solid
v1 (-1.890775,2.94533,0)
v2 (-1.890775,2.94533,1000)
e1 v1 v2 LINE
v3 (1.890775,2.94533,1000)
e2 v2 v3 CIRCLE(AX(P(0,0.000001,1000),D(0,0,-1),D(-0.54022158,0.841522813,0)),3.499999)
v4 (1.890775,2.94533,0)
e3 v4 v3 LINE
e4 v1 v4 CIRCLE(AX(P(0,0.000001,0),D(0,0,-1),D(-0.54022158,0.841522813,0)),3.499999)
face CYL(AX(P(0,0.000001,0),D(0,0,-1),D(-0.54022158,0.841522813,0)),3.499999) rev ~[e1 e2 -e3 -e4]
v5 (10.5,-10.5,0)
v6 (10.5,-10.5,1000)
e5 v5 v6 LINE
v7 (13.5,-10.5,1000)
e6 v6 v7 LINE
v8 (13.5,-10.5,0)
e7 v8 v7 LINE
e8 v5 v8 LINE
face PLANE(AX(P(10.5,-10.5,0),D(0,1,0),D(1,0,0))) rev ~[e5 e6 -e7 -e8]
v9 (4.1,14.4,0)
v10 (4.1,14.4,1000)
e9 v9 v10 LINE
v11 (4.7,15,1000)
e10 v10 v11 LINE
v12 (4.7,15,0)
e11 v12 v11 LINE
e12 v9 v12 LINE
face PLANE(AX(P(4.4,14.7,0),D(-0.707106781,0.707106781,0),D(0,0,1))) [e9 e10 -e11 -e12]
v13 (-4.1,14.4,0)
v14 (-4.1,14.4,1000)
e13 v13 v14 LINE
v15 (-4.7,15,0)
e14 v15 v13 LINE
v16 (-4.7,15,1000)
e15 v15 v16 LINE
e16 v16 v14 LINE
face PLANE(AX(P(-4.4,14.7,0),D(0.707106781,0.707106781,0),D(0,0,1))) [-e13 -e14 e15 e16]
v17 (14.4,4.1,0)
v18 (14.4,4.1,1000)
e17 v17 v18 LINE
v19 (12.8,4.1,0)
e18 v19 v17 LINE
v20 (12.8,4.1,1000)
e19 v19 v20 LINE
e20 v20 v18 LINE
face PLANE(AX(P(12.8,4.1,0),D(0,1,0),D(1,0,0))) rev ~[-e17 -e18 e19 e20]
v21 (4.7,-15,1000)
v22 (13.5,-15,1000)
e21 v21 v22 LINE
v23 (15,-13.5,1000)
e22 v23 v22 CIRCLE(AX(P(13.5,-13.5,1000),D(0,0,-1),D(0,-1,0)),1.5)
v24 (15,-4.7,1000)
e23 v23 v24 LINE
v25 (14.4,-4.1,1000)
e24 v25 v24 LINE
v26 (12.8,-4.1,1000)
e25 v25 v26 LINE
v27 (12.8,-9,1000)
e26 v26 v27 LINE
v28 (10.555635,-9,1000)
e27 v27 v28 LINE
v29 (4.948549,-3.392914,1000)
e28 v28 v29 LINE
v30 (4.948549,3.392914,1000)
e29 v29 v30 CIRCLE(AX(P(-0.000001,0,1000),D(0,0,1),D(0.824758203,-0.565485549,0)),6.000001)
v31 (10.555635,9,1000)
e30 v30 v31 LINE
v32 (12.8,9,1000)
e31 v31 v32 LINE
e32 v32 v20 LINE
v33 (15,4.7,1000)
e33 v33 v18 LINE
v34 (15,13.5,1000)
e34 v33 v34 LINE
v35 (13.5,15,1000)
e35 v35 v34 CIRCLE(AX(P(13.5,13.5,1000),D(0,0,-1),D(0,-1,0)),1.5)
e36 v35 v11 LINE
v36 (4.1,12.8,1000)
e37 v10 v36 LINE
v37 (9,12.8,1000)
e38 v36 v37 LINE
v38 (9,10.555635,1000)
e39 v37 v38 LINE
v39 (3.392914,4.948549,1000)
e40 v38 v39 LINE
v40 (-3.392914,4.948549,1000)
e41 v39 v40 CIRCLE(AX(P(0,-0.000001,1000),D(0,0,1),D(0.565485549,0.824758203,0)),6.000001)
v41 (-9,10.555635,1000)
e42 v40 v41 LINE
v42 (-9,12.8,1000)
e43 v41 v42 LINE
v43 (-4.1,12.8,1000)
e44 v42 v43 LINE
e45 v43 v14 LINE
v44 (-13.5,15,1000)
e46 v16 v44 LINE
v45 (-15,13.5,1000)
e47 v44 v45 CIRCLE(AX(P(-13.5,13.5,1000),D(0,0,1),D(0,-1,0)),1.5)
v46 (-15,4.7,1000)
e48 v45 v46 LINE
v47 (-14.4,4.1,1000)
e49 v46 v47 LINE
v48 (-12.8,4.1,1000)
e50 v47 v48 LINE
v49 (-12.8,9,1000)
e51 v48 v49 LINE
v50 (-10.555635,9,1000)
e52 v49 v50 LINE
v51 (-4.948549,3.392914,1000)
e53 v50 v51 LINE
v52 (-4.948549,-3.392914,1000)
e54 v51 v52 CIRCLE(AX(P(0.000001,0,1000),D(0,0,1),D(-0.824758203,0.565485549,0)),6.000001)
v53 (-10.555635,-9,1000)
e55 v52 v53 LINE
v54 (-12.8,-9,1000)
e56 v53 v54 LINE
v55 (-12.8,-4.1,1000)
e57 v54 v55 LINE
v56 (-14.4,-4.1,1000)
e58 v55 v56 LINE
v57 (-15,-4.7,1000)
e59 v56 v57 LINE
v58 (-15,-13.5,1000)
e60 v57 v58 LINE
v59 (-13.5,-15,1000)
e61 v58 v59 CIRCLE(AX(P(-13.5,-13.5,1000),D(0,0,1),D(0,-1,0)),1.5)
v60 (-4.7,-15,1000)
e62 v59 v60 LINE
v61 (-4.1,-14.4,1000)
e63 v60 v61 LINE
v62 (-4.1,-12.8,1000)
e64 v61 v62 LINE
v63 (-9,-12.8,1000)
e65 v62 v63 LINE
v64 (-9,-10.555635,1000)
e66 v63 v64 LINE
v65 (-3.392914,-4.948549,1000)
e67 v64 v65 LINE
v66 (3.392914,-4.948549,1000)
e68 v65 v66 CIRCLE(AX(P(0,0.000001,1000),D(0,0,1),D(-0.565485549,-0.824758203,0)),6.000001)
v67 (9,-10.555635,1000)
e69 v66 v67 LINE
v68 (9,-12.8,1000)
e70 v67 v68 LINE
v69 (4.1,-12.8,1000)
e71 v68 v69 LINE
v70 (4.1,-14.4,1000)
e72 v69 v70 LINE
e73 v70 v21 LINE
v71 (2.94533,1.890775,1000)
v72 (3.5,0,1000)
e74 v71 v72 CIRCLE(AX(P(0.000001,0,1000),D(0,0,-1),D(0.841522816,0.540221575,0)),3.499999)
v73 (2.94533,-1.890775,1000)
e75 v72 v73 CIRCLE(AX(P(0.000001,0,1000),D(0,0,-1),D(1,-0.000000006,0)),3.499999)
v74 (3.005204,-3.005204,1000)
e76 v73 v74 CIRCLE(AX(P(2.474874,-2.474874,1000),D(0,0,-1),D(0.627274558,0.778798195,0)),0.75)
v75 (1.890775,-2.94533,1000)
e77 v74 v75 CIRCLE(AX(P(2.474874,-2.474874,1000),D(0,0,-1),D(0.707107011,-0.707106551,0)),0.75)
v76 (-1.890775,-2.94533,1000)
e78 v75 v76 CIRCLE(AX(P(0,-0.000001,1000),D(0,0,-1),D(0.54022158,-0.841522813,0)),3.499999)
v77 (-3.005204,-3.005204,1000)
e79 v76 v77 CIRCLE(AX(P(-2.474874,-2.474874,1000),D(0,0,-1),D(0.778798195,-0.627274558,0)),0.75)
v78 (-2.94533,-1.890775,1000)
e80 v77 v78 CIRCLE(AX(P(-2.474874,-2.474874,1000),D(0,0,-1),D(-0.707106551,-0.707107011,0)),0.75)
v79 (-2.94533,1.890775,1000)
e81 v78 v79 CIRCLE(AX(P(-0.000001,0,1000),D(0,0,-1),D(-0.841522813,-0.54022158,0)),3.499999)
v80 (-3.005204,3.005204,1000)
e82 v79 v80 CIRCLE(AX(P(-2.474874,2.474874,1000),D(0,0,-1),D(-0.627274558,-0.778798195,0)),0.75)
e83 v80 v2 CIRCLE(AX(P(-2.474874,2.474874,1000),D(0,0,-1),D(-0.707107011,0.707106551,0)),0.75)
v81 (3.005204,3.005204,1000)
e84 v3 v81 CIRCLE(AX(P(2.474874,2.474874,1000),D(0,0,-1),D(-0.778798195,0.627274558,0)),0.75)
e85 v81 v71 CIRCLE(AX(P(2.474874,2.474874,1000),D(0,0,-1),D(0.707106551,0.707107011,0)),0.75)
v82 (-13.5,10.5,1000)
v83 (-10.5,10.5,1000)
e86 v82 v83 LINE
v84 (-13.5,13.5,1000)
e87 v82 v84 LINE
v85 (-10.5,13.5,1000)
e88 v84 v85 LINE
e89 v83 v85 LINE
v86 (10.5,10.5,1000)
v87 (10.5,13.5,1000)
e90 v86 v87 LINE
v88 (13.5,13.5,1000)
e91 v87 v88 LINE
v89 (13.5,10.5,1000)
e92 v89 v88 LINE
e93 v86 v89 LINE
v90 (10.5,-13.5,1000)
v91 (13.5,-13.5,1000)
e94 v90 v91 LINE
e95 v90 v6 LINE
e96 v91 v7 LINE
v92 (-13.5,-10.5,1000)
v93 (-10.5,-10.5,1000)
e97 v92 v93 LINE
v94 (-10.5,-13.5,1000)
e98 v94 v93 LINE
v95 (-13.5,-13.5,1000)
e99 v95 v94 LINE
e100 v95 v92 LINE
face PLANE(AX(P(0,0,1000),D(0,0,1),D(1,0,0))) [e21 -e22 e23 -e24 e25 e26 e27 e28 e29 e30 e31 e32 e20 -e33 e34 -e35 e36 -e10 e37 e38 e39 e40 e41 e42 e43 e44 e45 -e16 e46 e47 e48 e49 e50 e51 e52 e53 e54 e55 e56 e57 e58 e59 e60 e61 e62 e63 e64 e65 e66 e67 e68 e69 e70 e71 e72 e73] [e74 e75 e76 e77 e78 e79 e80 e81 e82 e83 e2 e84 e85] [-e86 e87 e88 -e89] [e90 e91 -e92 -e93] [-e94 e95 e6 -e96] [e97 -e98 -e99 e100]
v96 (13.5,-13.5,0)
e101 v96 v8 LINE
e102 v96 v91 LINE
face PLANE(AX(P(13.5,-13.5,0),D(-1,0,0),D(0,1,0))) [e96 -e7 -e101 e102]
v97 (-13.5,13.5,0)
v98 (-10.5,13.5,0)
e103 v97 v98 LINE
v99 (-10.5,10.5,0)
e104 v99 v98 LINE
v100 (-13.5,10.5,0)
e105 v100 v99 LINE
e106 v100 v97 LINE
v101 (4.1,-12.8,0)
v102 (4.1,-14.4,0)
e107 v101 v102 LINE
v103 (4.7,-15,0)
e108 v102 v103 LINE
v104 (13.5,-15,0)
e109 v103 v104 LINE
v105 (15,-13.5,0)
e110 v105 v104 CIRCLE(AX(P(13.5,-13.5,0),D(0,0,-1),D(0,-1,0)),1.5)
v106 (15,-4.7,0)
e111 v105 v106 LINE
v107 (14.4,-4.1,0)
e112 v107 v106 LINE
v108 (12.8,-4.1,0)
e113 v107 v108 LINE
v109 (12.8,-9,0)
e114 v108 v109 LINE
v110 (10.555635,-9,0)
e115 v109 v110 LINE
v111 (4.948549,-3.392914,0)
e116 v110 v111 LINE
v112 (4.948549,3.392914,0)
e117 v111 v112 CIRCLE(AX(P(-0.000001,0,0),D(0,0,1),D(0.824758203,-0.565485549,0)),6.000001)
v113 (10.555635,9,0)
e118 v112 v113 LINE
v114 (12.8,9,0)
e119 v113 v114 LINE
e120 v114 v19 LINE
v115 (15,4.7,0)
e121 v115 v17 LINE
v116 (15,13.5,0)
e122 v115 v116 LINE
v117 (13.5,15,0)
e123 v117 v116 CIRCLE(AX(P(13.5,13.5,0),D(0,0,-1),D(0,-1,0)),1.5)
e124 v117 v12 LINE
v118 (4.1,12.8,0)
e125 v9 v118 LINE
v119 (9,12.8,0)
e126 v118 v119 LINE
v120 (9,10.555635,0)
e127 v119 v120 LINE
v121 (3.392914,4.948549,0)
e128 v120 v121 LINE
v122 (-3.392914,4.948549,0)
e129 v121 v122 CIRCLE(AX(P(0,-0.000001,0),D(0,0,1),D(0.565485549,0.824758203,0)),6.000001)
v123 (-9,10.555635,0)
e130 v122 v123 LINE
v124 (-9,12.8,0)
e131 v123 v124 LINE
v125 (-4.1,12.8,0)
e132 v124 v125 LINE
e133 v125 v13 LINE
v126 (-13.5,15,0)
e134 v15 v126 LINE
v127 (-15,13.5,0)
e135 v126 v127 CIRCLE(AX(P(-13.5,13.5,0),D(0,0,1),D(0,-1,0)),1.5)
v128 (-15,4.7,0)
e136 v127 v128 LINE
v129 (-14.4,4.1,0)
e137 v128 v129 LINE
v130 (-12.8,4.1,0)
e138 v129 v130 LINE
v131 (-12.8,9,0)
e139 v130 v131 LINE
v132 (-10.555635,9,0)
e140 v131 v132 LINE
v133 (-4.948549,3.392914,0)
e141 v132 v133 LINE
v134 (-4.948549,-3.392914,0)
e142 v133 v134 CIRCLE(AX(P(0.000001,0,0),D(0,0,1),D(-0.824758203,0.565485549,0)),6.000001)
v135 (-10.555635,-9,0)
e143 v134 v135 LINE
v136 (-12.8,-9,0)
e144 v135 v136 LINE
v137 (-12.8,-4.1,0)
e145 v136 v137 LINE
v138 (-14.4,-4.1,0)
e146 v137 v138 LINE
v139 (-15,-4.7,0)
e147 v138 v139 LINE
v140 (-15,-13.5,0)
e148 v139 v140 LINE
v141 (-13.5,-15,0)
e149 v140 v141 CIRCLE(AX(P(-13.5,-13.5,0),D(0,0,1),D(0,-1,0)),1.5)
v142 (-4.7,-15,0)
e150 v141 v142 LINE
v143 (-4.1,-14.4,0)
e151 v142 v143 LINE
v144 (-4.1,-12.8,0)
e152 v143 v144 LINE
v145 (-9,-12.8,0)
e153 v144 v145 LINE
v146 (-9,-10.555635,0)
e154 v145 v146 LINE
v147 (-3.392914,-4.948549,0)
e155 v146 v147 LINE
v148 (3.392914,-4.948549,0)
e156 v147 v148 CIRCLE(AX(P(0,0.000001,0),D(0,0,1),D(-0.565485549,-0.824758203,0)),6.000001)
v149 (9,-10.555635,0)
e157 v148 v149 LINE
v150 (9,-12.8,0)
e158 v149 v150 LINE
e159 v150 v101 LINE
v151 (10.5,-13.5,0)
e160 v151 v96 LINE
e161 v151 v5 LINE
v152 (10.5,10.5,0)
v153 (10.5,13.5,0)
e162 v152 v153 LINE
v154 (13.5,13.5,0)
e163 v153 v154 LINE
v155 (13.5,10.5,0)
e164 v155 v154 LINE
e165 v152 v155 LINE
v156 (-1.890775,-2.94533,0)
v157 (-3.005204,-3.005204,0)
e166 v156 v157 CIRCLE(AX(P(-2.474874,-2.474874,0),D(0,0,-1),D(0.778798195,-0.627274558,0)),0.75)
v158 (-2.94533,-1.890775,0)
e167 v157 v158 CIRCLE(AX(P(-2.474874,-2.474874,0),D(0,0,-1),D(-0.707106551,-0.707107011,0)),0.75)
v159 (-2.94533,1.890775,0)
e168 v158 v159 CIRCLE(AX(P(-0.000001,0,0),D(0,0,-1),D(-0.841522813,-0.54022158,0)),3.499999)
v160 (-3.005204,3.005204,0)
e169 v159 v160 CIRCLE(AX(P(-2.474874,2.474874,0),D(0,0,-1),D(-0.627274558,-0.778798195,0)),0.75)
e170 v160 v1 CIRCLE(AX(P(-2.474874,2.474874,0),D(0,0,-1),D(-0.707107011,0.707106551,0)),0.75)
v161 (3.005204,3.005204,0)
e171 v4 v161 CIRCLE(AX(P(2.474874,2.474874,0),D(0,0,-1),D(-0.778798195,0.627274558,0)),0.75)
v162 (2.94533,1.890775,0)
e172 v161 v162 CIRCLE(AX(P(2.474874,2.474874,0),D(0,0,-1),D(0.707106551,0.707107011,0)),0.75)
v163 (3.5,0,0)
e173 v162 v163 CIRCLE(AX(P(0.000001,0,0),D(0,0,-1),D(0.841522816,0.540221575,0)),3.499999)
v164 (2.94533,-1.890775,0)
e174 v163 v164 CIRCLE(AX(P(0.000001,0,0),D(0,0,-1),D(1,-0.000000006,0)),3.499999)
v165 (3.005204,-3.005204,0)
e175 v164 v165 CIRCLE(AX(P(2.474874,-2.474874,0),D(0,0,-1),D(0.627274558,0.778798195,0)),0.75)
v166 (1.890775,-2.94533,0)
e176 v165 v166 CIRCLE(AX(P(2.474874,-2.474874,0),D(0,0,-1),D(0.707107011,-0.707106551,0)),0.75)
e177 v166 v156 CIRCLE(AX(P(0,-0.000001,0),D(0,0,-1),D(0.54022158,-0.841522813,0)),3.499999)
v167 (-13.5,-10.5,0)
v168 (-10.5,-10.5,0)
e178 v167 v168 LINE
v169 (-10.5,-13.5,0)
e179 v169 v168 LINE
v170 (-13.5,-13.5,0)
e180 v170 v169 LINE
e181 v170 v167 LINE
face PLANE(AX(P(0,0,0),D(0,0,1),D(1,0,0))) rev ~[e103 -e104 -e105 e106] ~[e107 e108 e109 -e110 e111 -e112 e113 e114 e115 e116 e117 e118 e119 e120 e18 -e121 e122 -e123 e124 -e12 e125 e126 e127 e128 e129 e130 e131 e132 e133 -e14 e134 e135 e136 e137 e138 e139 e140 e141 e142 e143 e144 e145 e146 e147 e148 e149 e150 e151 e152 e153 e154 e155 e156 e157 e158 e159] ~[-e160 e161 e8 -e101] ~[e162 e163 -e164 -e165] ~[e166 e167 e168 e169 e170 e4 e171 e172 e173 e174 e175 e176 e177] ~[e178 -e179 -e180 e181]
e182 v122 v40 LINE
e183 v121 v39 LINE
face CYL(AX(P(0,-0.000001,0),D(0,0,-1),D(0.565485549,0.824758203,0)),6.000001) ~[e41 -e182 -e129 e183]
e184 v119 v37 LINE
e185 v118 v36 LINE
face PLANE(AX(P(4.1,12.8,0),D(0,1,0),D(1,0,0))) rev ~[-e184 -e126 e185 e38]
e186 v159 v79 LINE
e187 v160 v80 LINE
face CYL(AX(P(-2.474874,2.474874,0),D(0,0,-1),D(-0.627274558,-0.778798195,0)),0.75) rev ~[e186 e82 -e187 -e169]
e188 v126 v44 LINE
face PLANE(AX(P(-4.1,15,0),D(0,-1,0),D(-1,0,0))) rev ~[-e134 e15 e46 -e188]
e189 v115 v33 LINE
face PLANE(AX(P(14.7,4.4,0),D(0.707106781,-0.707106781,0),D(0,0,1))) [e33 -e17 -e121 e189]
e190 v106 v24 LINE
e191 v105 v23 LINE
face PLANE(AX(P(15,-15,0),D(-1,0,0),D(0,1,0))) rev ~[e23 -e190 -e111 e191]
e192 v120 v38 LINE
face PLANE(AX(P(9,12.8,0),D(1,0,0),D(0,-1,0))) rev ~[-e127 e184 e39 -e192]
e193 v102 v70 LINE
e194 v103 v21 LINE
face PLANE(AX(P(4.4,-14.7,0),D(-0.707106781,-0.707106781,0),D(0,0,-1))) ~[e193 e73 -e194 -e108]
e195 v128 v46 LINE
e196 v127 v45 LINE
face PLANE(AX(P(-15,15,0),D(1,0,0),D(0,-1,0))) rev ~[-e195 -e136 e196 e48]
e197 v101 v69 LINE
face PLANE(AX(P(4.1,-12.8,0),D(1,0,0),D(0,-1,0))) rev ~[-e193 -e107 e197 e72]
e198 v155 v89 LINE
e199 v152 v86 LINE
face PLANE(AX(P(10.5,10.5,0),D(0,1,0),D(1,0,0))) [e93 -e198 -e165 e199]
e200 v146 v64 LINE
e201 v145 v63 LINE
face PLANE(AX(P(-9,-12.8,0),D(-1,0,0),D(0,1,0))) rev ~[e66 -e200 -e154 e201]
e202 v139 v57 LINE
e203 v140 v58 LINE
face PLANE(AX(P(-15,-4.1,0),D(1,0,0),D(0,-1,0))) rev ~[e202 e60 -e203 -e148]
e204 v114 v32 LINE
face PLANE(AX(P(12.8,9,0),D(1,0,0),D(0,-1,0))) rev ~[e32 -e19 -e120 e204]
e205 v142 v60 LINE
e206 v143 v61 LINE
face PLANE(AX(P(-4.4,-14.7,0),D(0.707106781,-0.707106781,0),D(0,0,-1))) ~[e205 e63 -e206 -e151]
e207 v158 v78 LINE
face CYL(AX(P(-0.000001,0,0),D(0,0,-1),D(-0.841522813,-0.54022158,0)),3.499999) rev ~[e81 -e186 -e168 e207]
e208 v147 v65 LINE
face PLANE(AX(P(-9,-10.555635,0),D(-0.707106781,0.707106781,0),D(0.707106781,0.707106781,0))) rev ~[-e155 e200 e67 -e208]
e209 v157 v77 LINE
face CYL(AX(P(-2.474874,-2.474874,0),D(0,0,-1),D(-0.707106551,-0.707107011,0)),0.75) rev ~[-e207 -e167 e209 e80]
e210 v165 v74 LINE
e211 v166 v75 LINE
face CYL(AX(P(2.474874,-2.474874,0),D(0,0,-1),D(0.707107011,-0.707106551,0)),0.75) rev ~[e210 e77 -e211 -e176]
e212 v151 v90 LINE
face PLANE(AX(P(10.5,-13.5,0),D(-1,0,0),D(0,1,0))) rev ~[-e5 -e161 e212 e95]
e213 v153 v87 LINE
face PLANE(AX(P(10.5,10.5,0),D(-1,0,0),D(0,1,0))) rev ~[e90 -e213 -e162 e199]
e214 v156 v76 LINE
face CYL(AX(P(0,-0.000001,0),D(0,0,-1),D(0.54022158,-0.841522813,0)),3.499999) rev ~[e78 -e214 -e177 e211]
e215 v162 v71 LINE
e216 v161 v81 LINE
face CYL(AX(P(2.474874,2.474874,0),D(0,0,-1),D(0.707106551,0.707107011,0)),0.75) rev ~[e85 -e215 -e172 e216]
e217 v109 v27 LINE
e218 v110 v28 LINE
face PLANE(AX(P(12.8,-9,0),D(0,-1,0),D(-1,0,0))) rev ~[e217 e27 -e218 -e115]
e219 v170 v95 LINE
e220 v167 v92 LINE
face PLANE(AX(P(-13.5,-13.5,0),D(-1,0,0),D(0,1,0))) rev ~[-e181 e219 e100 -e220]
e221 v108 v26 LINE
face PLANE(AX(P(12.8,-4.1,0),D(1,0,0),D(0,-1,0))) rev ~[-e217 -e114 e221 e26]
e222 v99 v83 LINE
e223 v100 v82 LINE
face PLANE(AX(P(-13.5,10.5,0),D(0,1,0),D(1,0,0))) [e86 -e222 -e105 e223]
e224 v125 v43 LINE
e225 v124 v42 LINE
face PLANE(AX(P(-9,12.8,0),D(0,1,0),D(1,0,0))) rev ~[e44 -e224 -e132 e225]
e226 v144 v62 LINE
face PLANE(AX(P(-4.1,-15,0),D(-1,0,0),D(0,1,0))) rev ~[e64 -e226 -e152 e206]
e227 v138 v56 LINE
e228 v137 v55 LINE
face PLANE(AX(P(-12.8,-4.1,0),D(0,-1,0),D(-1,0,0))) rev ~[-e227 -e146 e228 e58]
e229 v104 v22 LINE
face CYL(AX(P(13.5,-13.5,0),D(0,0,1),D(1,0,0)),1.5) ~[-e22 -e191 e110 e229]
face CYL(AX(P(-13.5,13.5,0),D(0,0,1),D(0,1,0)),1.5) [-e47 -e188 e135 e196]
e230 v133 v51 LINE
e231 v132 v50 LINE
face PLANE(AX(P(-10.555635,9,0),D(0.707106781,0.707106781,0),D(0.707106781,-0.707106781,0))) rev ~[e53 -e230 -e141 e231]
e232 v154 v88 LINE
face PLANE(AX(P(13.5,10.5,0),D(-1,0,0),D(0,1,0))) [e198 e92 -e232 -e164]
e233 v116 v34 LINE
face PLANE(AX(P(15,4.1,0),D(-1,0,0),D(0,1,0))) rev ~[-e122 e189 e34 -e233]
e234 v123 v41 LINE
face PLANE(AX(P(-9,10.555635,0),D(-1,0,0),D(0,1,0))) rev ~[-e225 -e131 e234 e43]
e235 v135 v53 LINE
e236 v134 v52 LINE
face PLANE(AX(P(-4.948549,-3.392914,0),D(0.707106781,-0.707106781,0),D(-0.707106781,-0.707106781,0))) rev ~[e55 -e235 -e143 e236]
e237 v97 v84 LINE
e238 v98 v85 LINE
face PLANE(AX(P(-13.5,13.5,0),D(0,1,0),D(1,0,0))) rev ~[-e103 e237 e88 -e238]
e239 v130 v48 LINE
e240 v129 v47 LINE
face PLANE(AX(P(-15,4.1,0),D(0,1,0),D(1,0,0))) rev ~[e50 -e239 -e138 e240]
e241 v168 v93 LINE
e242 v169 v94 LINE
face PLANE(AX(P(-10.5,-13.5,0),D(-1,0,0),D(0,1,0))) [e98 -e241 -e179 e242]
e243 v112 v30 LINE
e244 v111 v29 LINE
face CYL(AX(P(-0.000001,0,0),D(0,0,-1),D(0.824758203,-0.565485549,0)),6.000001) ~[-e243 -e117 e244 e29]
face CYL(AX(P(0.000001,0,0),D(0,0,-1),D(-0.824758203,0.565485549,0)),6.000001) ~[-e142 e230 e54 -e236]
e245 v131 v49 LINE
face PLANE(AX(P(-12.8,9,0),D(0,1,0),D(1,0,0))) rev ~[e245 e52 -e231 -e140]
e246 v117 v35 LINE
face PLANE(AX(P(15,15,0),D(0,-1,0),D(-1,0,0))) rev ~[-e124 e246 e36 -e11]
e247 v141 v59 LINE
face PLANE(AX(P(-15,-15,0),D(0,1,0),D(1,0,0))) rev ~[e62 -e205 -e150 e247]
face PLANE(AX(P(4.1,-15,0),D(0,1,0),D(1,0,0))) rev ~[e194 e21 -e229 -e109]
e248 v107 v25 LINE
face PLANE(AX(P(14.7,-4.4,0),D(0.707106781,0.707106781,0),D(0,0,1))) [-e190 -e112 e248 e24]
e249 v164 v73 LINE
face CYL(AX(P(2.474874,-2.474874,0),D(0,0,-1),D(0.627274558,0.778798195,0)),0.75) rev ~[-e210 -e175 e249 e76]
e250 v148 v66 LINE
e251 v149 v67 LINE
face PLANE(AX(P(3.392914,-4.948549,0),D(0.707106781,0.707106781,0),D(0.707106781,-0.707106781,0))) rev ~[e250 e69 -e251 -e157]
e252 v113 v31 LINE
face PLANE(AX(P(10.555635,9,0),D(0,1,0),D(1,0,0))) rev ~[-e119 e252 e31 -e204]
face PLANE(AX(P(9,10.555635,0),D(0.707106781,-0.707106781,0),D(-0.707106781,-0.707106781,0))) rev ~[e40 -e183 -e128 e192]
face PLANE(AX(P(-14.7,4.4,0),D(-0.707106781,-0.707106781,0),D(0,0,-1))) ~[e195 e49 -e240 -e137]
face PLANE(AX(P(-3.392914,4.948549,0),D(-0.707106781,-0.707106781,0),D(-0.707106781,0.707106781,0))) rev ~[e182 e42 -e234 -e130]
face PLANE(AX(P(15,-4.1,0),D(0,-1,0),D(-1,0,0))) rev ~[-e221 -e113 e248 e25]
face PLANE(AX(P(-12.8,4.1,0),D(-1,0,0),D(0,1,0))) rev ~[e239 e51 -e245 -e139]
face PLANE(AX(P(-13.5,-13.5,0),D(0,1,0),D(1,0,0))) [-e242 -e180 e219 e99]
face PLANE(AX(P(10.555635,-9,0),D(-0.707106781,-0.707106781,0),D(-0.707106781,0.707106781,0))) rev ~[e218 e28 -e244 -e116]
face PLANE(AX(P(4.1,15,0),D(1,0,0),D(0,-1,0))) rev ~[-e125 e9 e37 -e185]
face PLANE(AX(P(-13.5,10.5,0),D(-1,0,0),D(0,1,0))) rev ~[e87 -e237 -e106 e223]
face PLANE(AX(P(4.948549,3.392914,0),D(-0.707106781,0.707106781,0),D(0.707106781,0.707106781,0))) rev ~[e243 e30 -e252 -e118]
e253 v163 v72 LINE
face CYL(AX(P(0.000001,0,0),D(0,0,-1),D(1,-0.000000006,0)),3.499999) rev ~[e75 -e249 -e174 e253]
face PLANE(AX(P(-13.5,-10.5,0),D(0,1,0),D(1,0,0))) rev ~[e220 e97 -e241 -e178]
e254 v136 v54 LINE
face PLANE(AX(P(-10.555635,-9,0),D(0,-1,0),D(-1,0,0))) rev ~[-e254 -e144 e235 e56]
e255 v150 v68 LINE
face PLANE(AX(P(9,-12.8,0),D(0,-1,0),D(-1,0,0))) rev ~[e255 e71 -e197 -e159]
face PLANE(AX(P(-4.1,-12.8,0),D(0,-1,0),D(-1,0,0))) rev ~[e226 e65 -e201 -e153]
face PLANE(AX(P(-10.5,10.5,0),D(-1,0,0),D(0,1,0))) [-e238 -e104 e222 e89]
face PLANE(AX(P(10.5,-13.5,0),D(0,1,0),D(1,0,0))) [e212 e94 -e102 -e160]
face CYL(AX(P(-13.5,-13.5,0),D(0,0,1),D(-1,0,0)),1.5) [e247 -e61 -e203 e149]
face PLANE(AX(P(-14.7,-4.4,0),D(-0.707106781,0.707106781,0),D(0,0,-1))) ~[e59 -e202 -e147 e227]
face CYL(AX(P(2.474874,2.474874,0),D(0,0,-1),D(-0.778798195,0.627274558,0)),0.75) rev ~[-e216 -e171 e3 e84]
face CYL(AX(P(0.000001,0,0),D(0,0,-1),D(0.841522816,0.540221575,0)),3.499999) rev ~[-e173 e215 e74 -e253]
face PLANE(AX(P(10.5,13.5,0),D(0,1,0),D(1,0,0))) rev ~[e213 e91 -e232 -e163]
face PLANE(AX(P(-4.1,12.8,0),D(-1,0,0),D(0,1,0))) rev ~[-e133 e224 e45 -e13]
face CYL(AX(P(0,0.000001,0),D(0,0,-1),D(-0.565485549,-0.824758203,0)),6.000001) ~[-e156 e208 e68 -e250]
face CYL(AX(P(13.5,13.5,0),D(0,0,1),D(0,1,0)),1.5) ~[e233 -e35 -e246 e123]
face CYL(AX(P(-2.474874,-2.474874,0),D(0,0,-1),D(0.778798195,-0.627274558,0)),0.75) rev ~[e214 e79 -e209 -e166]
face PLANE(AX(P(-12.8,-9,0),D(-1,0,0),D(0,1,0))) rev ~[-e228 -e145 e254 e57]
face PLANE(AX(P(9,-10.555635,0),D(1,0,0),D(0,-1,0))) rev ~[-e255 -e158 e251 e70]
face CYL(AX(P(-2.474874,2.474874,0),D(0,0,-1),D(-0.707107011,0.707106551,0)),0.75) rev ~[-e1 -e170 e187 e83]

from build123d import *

# Parameters (mm, degrees)
F0_W     = 3
F0_H     = 3
F1_DEPTH = 1000
F2_R     = 1.5
F3_SIZE  = 0.6


with BuildPart() as f1:
    # F0 (on Top) → F1 (new body)
    with BuildSketch(Plane.XY):
        with BuildLine():
            Line((-4.1, 15), (-15, 15))
            Line((-15, 15), (-15, 4.1))
            Line((-15, 4.1), (-12.8, 4.1))
            Line((-12.8, 4.1), (-12.8, 9))
            Line((-12.8, 9), (-10.555635, 9))
            Line((-10.555635, 9), (-4.948549, 3.392914))
            ThreePointArc((-4.948549, 3.392914), (-6, 0), (-4.948549, -3.392914))
            Line((-4.948549, -3.392914), (-10.555635, -9))
            Line((-10.555635, -9), (-12.8, -9))
            Line((-12.8, -9), (-12.8, -4.1))
            Line((-12.8, -4.1), (-15, -4.1))
            Line((-15, -4.1), (-15, -15))
            Line((-15, -15), (-4.1, -15))
            Line((-4.1, -15), (-4.1, -12.8))
            Line((-4.1, -12.8), (-9, -12.8))
            Line((-9, -12.8), (-9, -10.555635))
            Line((-9, -10.555635), (-3.392914, -4.948549))
            ThreePointArc((-3.392914, -4.948549), (0, -6), (3.392914, -4.948549))
            Line((3.392914, -4.948549), (9, -10.555635))
            Line((9, -10.555635), (9, -12.8))
            Line((9, -12.8), (4.1, -12.8))
            Line((4.1, -12.8), (4.1, -15))
            Line((4.1, -15), (15, -15))
            Line((15, -15), (15, -4.1))
            Line((15, -4.1), (13.5, -4.1))
            Line((13.5, -4.1), (12.8, -4.1))
            Line((12.8, -4.1), (12.8, -9))
            Line((12.8, -9), (10.555635, -9))
            Line((10.555635, -9), (4.948549, -3.392914))
            ThreePointArc((4.948549, -3.392914), (6, 0), (4.948549, 3.392914))
            Line((4.948549, 3.392914), (10.555635, 9))
            Line((10.555635, 9), (12.8, 9))
            Line((12.8, 9), (12.8, 4.1))
            Line((12.8, 4.1), (13.5, 4.1))
            Line((13.5, 4.1), (15, 4.1))
            Line((15, 4.1), (15, 15))
            Line((15, 15), (4.1, 15))
            Line((4.1, 15), (4.1, 12.8))
            Line((4.1, 12.8), (9, 12.8))
            Line((9, 12.8), (9, 10.555635))
            Line((9, 10.555635), (3.392914, 4.948549))
            ThreePointArc((3.392914, 4.948549), (0, 6), (-3.392914, 4.948549))
            Line((-3.392914, 4.948549), (-9, 10.555635))
            Line((-9, 10.555635), (-9, 12.8))
            Line((-9, 12.8), (-4.1, 12.8))
            Line((-4.1, 12.8), (-4.1, 15))
        make_face()
        with Locations((-12, -12)):
            Rectangle(F0_W, F0_H, mode=Mode.SUBTRACT)
        with Locations((12, -12)):
            Rectangle(F0_W, F0_H, mode=Mode.SUBTRACT)
        with Locations((-12, 12)):
            Rectangle(F0_W, F0_H, mode=Mode.SUBTRACT)
        with BuildLine():
            ThreePointArc((2.94533, 1.890775), (3.358471, 0.985227), (3.5, 0))
            ThreePointArc((3.5, 0), (3.358471, -0.985227), (2.94533, -1.890775))
            ThreePointArc((2.94533, -1.890775), (3.223794, -2.434637), (3.005204, -3.005204))
            ThreePointArc((3.005204, -3.005204), (2.434637, -3.223794), (1.890775, -2.94533))
            ThreePointArc((1.890775, -2.94533), (0, -3.5), (-1.890775, -2.94533))
            ThreePointArc((-1.890775, -2.94533), (-2.434637, -3.223794), (-3.005204, -3.005204))
            ThreePointArc((-3.005204, -3.005204), (-3.223794, -2.434637), (-2.94533, -1.890775))
            ThreePointArc((-2.94533, -1.890775), (-3.5, 0), (-2.94533, 1.890775))
            ThreePointArc((-2.94533, 1.890775), (-3.223794, 2.434637), (-3.005204, 3.005204))
            ThreePointArc((-3.005204, 3.005204), (-2.434637, 3.223794), (-1.890775, 2.94533))
            ThreePointArc((-1.890775, 2.94533), (0, 3.5), (1.890775, 2.94533))
            ThreePointArc((1.890775, 2.94533), (2.434637, 3.223794), (3.005204, 3.005204))
            ThreePointArc((3.005204, 3.005204), (3.223794, 2.434637), (2.94533, 1.890775))
        make_face(mode=Mode.SUBTRACT)
        with Locations((12, 12)):
            Rectangle(F0_W, F0_H, mode=Mode.SUBTRACT)
    extrude(amount=F1_DEPTH)

    # F2
    f2_edges = [f1.edges().sort_by_distance(p)[0] for p in [
        (15, 15, 500),
        (-15, 15, 500),
        (15, -15, 500),
        (-15, -15, 500),
    ]]
    fillet(f2_edges, radius=F2_R)

    # F3
    f3_edges = [f1.edges().sort_by_distance(p)[0] for p in [
        (-4.1, 15, 500),
        (4.1, 15, 500),
        (15, 4.1, 500),
        (15, -4.1, 500),
        (-15, 4.1, 500),
        (-15, -4.1, 500),
        (4.1, -15, 500),
        (-4.1, -15, 500),
    ]]
    chamfer(f3_edges, length=F3_SIZE)


solid = f1.part
